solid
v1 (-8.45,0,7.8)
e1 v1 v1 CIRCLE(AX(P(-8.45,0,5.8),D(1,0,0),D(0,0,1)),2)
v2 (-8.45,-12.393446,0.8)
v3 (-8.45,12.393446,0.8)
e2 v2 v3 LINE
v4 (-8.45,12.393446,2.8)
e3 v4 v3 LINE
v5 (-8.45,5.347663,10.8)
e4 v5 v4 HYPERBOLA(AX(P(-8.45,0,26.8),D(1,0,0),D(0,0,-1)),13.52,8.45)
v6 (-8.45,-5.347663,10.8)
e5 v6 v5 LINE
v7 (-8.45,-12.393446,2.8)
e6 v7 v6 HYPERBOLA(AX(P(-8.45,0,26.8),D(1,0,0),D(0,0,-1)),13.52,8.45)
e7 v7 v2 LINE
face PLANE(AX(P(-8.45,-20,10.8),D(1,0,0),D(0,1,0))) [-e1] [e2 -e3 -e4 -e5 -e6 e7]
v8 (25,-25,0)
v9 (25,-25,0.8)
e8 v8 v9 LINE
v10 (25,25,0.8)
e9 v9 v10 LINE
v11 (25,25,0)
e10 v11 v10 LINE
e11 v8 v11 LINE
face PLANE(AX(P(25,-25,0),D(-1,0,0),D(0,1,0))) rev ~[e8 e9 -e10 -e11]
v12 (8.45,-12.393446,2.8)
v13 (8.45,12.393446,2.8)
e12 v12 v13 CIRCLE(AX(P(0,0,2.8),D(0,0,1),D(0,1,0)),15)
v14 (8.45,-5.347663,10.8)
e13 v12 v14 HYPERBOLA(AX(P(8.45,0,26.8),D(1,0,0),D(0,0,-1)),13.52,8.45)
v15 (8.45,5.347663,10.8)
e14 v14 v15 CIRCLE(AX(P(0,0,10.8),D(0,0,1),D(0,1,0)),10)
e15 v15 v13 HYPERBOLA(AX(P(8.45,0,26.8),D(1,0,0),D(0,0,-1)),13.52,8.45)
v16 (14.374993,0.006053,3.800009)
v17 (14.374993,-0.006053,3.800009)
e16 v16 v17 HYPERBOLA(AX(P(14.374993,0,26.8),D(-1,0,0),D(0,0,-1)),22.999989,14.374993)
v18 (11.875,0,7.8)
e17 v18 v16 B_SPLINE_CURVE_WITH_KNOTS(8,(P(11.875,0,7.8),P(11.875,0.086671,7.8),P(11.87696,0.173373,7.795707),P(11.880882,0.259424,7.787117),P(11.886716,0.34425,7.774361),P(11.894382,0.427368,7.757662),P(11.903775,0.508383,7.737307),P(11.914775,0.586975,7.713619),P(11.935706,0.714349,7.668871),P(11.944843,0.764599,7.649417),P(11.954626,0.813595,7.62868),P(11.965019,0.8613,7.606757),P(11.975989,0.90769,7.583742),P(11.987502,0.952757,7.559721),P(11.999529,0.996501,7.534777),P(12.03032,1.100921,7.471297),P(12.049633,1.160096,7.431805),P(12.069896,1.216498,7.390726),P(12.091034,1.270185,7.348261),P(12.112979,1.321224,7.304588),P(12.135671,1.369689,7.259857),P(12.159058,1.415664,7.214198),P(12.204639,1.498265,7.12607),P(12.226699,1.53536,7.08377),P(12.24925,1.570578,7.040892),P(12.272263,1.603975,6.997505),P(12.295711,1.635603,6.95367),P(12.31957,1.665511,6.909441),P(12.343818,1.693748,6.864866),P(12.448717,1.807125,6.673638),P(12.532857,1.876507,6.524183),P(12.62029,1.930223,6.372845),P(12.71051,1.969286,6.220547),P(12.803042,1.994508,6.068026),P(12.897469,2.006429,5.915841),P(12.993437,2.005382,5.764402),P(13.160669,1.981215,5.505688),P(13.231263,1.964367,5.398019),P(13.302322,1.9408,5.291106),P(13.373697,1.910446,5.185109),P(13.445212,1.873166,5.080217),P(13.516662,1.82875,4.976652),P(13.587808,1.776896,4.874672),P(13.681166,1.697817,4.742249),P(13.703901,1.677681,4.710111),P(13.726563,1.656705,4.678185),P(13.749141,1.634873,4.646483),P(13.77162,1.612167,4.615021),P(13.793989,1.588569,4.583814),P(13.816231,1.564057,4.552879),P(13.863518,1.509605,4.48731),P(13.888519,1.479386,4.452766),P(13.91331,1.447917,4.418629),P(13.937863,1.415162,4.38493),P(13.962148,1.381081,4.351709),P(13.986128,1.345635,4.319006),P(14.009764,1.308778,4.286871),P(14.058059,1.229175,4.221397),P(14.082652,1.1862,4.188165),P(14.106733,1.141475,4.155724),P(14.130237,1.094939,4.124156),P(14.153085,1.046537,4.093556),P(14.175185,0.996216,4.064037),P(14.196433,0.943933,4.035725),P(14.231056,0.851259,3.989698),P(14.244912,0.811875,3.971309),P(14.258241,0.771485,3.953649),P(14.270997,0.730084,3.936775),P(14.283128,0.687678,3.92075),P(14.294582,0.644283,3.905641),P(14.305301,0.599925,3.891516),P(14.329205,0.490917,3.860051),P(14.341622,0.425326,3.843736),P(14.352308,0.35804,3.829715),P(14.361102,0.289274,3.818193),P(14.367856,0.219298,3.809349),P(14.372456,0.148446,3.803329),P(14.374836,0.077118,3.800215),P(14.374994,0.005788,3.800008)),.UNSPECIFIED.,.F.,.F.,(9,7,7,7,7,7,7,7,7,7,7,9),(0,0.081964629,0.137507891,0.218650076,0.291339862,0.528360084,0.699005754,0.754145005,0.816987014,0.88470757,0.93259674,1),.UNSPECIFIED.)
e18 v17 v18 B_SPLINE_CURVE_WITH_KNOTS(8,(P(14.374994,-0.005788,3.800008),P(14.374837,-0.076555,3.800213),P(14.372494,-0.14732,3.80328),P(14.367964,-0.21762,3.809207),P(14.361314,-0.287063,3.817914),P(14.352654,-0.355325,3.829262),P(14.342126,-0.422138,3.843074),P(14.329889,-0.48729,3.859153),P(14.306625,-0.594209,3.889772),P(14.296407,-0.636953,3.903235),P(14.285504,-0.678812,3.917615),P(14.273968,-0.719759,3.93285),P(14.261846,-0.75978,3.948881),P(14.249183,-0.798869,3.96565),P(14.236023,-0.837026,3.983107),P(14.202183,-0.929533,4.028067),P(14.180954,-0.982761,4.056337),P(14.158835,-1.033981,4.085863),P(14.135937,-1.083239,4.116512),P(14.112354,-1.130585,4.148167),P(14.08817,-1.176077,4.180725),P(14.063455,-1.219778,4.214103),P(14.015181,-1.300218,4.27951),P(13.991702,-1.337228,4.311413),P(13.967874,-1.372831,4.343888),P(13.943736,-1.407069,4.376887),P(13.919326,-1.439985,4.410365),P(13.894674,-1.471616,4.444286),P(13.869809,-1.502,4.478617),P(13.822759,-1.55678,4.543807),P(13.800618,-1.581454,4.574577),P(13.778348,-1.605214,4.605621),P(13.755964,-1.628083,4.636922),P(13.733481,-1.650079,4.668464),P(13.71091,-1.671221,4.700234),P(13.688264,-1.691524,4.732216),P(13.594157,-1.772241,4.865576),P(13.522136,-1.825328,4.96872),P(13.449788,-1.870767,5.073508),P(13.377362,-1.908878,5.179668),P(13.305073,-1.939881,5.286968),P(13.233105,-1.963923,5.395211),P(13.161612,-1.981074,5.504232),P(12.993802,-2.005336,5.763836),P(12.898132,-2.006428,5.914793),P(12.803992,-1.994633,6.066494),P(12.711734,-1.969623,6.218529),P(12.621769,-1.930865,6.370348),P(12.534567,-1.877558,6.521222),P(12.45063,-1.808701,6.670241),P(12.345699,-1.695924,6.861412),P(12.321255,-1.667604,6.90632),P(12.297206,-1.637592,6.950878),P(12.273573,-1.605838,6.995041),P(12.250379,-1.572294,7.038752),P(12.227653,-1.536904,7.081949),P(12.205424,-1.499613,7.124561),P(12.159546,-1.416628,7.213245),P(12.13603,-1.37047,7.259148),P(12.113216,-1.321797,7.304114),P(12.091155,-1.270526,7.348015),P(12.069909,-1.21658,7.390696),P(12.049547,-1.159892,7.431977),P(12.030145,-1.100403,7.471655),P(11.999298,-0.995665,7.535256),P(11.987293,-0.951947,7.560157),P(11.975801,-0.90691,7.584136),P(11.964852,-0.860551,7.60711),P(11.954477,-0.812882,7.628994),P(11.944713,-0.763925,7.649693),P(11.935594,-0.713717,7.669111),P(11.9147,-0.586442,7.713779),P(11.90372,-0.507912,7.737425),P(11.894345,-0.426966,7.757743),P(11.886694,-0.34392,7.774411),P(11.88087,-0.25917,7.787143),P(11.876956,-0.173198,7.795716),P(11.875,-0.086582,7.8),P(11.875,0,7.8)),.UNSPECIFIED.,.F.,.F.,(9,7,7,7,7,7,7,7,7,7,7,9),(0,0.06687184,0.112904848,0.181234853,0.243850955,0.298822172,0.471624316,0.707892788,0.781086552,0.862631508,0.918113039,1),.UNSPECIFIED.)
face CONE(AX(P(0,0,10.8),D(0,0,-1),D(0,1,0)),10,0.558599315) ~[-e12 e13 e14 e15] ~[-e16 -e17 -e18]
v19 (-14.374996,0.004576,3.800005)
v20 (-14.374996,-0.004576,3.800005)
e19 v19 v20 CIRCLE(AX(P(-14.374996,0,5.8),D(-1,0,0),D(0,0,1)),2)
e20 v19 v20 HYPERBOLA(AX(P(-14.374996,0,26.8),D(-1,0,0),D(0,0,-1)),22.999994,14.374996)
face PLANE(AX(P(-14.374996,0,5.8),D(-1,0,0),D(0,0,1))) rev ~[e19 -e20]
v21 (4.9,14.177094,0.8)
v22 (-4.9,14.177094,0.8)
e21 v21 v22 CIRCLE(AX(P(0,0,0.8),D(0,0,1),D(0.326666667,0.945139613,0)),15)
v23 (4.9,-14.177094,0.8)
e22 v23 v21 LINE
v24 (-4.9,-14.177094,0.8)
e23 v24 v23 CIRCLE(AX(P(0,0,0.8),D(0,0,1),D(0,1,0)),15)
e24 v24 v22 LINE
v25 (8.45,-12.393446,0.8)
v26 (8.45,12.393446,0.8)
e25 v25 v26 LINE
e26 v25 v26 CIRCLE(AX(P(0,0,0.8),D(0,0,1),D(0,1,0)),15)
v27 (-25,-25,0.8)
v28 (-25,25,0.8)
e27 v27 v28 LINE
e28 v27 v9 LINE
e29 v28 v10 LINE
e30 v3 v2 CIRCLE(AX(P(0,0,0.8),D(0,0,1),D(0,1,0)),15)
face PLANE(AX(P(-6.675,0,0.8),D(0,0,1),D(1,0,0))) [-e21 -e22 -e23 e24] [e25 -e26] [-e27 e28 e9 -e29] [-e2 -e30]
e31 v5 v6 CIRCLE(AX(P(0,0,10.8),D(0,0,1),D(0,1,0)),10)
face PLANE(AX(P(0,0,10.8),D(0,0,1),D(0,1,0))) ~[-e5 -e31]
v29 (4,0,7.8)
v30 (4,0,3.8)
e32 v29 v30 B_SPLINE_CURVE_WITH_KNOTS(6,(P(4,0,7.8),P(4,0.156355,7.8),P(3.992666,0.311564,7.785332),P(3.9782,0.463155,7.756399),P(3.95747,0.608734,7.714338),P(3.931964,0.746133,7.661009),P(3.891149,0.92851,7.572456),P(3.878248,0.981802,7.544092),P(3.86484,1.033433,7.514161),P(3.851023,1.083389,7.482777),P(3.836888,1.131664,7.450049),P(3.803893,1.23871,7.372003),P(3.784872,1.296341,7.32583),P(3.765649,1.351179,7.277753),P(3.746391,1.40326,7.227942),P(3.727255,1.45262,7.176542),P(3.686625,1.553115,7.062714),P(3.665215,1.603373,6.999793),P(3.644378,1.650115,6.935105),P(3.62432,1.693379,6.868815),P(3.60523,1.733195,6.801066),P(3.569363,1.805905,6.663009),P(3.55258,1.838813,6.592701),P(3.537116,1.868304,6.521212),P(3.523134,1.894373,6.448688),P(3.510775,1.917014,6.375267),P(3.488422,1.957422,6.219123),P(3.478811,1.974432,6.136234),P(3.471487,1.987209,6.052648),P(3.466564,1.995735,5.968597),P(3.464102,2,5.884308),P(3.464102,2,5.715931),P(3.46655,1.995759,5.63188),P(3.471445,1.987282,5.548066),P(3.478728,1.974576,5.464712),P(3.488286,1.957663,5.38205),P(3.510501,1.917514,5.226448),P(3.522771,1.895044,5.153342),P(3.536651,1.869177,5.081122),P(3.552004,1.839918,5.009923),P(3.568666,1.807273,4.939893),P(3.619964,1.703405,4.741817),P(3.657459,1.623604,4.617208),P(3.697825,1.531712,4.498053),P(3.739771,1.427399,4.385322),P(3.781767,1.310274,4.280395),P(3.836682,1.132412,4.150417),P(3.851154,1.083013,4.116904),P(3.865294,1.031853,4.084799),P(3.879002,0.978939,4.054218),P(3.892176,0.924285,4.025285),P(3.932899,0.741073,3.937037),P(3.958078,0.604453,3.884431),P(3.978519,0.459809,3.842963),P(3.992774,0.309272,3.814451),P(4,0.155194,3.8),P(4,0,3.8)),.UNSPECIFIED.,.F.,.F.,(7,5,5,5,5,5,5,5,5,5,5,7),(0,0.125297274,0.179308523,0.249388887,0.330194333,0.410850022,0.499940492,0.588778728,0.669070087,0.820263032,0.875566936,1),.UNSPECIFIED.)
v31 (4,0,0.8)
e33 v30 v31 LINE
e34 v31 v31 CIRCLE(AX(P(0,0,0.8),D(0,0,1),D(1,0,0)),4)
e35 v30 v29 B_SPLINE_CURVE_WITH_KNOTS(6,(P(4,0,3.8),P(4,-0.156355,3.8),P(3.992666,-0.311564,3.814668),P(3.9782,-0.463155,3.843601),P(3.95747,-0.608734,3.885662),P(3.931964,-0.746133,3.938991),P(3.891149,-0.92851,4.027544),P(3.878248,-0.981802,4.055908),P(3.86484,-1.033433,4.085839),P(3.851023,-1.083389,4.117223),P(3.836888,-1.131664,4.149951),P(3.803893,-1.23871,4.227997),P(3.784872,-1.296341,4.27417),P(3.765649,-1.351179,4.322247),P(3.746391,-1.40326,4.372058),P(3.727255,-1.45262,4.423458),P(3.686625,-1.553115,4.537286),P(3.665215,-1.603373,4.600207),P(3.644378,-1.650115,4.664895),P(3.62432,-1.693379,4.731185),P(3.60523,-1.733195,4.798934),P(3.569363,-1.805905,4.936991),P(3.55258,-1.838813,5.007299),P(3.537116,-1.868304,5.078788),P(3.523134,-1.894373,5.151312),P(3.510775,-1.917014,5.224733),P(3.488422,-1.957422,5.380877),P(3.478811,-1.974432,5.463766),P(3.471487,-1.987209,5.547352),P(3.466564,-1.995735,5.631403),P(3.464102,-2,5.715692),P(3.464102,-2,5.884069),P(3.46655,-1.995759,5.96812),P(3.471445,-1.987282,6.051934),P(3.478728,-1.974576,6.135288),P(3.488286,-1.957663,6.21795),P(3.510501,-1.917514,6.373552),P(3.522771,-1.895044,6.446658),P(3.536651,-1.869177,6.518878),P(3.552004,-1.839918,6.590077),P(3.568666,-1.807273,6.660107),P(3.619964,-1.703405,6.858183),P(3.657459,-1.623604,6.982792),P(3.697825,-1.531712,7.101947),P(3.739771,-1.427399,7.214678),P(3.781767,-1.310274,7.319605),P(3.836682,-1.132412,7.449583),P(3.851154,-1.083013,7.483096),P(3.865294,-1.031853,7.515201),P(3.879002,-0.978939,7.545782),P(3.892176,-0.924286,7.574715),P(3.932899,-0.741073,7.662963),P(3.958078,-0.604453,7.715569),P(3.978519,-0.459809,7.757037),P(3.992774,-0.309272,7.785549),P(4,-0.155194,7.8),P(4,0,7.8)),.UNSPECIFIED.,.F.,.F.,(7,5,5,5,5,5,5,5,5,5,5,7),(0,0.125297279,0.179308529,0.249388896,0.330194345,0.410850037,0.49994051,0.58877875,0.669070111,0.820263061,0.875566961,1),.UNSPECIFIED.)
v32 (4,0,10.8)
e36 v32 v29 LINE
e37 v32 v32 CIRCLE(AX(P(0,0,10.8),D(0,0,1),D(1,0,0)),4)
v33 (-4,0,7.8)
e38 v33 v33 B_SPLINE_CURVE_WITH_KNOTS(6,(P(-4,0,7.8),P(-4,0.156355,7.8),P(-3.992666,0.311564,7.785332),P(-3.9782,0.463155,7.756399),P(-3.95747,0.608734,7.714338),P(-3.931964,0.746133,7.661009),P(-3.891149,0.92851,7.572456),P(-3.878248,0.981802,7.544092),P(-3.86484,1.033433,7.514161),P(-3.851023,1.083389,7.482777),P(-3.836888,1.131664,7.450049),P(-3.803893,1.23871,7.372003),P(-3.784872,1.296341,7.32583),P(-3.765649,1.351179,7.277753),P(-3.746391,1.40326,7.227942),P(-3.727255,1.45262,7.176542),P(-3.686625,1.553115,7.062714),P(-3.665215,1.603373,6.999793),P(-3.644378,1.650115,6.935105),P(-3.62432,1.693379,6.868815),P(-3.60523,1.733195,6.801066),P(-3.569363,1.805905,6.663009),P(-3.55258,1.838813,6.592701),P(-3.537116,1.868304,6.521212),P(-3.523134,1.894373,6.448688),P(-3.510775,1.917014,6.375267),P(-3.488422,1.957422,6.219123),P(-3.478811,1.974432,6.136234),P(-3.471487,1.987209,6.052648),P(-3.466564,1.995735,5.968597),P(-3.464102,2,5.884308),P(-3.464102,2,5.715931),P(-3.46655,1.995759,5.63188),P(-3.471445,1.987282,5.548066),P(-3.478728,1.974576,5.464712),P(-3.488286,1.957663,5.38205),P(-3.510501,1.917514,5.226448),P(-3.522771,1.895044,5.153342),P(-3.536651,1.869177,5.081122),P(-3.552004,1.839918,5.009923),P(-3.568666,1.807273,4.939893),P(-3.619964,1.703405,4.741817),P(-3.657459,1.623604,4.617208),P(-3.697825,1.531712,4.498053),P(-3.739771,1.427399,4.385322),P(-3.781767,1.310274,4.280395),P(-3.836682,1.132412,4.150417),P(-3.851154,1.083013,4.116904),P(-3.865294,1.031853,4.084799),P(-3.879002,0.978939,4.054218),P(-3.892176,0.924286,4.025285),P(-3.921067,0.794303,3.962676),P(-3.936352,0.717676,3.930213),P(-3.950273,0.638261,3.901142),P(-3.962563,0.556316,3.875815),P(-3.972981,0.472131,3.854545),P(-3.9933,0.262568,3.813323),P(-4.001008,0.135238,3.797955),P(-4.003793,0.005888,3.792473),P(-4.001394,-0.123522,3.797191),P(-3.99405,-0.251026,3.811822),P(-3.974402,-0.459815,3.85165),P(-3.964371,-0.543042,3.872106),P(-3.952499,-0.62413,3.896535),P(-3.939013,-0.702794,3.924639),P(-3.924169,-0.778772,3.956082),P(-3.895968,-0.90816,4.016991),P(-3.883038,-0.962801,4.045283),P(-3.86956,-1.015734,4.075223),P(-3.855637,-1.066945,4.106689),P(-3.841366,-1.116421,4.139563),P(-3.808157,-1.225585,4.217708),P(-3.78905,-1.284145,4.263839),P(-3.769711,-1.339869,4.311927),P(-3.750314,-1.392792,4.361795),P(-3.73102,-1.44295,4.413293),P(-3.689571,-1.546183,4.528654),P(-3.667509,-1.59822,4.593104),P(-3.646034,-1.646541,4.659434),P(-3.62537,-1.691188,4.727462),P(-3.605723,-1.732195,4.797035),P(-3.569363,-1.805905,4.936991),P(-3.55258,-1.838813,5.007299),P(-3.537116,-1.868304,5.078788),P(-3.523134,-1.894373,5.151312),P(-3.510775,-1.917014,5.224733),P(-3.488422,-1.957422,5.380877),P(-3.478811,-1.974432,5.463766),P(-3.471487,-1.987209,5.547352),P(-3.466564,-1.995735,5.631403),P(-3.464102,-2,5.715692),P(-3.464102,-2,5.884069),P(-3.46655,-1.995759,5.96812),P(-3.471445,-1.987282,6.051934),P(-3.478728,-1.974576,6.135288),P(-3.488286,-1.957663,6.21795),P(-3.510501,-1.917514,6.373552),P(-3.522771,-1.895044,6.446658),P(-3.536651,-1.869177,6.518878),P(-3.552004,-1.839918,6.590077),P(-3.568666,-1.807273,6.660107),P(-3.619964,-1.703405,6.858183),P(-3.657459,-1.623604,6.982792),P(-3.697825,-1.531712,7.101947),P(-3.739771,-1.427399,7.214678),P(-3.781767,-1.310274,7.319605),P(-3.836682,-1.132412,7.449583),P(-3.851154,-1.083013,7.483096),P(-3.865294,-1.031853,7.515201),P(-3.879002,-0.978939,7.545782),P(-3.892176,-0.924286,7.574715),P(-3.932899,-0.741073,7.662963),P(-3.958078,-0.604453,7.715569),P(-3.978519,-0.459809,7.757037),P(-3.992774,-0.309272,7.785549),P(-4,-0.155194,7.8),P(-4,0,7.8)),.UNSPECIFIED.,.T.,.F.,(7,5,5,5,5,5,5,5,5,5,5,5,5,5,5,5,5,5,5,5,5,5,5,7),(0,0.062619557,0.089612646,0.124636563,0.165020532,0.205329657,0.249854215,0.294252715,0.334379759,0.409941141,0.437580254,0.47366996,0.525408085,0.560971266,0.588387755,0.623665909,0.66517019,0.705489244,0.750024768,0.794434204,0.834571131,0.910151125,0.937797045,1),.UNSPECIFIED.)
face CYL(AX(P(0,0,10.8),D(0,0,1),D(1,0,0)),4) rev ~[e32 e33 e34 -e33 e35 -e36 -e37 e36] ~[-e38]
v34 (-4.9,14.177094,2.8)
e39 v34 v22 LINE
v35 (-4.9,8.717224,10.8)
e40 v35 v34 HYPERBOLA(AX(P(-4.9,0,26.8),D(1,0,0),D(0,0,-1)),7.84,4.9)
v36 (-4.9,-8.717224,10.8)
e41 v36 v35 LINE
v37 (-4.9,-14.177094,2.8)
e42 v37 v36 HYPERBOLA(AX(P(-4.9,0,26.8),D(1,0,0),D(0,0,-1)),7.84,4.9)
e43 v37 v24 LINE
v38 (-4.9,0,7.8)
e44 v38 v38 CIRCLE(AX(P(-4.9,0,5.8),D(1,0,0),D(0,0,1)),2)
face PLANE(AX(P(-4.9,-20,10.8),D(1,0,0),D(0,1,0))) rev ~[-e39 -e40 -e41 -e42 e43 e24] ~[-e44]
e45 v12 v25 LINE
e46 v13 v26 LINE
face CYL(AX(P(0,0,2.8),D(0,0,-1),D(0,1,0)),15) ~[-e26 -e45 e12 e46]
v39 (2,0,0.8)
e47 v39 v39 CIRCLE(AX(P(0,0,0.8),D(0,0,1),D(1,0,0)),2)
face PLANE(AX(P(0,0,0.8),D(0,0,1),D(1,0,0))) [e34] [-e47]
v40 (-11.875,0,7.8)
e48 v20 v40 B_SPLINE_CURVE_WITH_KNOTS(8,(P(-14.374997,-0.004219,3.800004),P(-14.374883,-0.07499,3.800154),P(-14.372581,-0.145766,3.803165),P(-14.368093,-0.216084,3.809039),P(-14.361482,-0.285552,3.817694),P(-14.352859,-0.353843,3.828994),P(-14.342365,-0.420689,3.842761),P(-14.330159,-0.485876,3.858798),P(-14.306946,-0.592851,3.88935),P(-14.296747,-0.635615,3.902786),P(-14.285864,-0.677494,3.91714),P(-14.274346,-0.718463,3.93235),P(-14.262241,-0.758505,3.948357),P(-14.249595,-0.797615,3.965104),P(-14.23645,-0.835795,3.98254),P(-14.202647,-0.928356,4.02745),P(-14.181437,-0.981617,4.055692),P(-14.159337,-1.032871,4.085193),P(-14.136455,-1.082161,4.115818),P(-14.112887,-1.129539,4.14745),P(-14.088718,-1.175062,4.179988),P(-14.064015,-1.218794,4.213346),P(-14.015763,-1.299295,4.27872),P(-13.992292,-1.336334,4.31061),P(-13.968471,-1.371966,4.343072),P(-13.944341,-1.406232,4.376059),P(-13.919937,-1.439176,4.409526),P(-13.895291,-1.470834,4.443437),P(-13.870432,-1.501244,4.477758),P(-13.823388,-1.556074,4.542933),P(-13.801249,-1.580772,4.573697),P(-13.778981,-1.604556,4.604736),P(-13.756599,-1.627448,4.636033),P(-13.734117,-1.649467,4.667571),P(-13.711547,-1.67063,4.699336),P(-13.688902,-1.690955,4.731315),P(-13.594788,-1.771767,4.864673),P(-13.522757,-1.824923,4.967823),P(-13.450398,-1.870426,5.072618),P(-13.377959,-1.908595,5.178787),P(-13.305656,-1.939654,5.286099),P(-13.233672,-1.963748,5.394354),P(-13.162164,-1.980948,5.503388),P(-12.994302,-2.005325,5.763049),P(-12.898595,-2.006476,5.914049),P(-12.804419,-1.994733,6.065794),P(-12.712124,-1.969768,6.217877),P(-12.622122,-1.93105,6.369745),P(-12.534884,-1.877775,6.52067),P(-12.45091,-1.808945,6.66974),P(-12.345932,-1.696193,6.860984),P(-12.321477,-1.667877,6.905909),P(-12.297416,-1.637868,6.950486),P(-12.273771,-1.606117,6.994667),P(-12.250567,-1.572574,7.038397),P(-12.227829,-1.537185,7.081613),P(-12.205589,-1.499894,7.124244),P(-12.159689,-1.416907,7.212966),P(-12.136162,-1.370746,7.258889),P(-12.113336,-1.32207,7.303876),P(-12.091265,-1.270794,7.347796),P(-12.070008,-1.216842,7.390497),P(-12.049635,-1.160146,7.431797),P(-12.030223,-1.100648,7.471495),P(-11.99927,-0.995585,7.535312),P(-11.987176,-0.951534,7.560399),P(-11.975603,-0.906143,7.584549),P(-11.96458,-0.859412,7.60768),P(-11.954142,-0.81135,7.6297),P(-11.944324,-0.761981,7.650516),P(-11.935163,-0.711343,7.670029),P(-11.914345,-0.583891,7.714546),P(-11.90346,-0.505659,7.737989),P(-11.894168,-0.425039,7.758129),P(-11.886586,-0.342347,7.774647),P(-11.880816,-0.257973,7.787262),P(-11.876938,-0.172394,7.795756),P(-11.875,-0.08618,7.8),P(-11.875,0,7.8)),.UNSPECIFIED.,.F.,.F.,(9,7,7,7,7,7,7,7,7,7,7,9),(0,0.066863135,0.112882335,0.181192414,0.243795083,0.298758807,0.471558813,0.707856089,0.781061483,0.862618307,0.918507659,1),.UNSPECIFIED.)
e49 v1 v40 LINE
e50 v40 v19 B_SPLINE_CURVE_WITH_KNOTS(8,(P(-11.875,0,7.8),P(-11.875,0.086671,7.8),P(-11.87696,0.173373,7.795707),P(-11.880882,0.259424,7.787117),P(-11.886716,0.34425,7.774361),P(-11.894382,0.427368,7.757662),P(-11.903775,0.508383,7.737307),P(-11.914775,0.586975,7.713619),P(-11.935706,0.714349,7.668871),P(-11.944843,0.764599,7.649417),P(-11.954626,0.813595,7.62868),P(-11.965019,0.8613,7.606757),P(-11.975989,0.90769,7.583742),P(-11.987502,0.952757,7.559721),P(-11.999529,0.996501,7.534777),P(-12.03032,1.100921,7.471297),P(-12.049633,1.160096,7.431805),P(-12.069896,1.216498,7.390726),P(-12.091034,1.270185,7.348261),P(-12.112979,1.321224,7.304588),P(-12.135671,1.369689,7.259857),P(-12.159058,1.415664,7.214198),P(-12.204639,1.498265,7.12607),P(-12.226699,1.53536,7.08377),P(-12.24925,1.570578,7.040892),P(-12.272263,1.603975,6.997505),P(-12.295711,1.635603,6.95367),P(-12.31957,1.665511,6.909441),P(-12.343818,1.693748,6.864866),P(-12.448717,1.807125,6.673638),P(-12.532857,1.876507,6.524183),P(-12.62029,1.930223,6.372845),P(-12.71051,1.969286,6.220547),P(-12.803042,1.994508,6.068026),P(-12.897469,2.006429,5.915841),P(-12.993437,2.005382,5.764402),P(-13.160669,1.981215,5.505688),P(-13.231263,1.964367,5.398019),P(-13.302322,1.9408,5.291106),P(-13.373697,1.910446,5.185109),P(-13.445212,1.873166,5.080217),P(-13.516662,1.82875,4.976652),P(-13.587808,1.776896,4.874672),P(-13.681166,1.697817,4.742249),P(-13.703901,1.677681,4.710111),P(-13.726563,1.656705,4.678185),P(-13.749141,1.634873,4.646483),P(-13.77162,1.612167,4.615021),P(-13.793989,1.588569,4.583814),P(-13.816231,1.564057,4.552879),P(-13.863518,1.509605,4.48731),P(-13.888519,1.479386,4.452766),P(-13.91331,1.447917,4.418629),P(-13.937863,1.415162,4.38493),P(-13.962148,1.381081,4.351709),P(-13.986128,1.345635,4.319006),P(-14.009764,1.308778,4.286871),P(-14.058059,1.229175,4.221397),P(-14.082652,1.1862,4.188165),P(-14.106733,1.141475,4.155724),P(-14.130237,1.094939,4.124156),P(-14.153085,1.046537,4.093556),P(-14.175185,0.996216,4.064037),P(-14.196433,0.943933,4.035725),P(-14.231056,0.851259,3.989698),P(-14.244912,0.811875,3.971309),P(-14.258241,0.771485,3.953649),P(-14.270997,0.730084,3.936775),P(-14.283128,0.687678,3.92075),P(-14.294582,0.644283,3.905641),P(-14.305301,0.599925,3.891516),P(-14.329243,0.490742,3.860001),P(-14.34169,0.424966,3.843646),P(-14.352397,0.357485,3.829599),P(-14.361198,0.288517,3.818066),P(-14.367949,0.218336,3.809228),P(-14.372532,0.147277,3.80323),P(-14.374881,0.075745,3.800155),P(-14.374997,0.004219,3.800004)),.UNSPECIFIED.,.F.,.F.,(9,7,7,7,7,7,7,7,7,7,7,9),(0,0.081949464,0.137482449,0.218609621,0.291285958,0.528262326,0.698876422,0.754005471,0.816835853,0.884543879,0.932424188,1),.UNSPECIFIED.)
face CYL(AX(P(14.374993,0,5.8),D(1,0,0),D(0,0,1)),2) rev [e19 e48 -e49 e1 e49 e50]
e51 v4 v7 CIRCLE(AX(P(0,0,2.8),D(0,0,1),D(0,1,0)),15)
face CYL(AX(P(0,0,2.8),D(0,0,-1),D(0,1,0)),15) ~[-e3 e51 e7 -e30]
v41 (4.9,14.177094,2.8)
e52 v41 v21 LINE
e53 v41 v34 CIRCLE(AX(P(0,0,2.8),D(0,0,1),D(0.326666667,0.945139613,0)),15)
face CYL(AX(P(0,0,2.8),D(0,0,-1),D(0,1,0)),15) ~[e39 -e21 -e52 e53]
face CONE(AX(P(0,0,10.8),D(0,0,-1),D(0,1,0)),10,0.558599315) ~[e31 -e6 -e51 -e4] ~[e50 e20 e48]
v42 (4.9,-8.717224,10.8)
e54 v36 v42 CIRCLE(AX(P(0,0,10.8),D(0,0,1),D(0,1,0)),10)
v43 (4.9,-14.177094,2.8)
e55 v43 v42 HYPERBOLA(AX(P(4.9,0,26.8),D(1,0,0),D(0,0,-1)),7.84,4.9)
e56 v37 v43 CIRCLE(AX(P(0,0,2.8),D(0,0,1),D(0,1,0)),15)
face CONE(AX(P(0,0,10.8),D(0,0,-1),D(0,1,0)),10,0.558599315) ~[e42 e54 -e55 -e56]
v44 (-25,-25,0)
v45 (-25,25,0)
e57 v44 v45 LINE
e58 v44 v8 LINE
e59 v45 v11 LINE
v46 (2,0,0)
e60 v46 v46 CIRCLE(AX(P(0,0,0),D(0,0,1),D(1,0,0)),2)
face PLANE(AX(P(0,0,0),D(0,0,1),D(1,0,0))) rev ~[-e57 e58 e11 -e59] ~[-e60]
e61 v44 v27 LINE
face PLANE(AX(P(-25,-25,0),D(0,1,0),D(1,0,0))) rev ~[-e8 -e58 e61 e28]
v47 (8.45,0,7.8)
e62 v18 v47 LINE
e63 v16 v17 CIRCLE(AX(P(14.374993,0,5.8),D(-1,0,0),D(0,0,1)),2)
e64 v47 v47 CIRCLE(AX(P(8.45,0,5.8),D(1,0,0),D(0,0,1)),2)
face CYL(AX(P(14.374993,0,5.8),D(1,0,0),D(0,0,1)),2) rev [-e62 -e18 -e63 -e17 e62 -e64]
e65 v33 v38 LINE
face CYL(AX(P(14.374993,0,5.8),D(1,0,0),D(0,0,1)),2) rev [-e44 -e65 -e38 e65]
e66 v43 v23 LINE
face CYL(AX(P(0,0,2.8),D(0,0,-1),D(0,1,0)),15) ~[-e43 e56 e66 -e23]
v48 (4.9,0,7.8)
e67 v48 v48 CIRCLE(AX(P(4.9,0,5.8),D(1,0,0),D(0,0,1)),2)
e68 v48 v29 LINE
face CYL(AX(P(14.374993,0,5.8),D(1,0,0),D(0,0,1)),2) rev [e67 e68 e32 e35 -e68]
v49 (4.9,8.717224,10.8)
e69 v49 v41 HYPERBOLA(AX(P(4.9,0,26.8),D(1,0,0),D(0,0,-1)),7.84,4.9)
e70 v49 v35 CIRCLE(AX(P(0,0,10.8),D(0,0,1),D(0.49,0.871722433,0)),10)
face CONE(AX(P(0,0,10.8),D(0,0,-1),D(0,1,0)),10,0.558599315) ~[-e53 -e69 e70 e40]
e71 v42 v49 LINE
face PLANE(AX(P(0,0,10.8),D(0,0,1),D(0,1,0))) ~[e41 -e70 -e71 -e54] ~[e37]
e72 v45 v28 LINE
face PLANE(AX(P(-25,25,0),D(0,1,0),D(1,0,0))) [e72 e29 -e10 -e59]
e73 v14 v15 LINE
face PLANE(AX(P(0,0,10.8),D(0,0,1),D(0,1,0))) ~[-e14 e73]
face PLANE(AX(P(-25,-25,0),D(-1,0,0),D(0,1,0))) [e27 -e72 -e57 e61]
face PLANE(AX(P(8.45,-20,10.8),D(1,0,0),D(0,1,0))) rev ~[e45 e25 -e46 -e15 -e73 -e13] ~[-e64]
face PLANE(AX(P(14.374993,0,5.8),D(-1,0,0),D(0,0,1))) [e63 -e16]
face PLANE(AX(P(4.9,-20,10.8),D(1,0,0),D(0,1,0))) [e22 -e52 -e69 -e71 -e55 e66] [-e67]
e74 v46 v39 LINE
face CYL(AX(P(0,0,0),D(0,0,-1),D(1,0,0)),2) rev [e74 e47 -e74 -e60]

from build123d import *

# Parameters (mm, degrees)
CROQUIS1_W              = 50
CROQUIS1_H              = 50
CROQUIS1_R              = 2
SALIENTE_EXTRUIR2_DEPTH = 0.8
CROQUIS4_R              = 4
CROQUIS4_W              = 3.55
CROQUIS4_H              = 40
CORTAR_EXTRUIR1_DEPTH   = 10
CORTAR_EXTRUIR2_START   = -39.374993
CROQUIS7_R              = 2
CORTAR_EXTRUIR2_DEPTH   = 28.749989
SALIENTE_EXTRUIR4_DEPTH = 10


with BuildPart() as part:
    # Croquis1 → Saliente-Extruir2 (new body)
    with BuildSketch(Plane.XY):
        Rectangle(CROQUIS1_W, CROQUIS1_H)
        Circle(CROQUIS1_R, mode=Mode.SUBTRACT)
    extrude(amount=SALIENTE_EXTRUIR2_DEPTH)

    # Croquis2 → Revolución1 (revolve)
    with BuildSketch(Plane(origin=(0, 0, 0), x_dir=(0, 0, -1), z_dir=(1, 0, 0))):
        Polygon((-0.8, 0), (-10.8, 0), (-10.8, 10), (-2.8, 15), (-0.8, 15), align=None)
    revolve(axis=Axis((0, 0, 0.8), (0, 0, 1)))

    # Croquis4 → Cortar-Extruir1 (cut)
    with BuildSketch(Plane.XY.offset(10.8)):
        Circle(CROQUIS4_R)
        with Locations((-6.675, 0)):
            Rectangle(CROQUIS4_W, CROQUIS4_H)
        with Locations((6.675, 0)):
            Rectangle(CROQUIS4_W, CROQUIS4_H)
    extrude(amount=-CORTAR_EXTRUIR1_DEPTH, mode=Mode.SUBTRACT)

    # Croquis7 → Cortar-Extruir2 (cut)
    with BuildSketch(Plane.ZY.offset(25).offset(CORTAR_EXTRUIR2_START)):
        with Locations((5.8, 0)):
            Circle(CROQUIS7_R)
    extrude(amount=CORTAR_EXTRUIR2_DEPTH, mode=Mode.SUBTRACT)

    # Croquis3 → Saliente-Extruir4 (add)
    with BuildSketch(Plane.XY.offset(0.8)):
        with BuildLine():
            Line((20, -25), (25, -25))
            Line((25, -25), (25, -20))
            ThreePointArc((25, -20), (28.535533906, -28.535533906), (20, -25))
        make_face()
    extrude(amount=SALIENTE_EXTRUIR4_DEPTH)


with BuildPart() as saliente_extruir4_kept_piece:
    # of the separate pieces the step leaves, the one the design keeps (saliente_extruir4_pieces_kept)
    add(part.part.solids().sort_by_distance((25, -25, 0))[0])


solid = saliente_extruir4_kept_piece.part
